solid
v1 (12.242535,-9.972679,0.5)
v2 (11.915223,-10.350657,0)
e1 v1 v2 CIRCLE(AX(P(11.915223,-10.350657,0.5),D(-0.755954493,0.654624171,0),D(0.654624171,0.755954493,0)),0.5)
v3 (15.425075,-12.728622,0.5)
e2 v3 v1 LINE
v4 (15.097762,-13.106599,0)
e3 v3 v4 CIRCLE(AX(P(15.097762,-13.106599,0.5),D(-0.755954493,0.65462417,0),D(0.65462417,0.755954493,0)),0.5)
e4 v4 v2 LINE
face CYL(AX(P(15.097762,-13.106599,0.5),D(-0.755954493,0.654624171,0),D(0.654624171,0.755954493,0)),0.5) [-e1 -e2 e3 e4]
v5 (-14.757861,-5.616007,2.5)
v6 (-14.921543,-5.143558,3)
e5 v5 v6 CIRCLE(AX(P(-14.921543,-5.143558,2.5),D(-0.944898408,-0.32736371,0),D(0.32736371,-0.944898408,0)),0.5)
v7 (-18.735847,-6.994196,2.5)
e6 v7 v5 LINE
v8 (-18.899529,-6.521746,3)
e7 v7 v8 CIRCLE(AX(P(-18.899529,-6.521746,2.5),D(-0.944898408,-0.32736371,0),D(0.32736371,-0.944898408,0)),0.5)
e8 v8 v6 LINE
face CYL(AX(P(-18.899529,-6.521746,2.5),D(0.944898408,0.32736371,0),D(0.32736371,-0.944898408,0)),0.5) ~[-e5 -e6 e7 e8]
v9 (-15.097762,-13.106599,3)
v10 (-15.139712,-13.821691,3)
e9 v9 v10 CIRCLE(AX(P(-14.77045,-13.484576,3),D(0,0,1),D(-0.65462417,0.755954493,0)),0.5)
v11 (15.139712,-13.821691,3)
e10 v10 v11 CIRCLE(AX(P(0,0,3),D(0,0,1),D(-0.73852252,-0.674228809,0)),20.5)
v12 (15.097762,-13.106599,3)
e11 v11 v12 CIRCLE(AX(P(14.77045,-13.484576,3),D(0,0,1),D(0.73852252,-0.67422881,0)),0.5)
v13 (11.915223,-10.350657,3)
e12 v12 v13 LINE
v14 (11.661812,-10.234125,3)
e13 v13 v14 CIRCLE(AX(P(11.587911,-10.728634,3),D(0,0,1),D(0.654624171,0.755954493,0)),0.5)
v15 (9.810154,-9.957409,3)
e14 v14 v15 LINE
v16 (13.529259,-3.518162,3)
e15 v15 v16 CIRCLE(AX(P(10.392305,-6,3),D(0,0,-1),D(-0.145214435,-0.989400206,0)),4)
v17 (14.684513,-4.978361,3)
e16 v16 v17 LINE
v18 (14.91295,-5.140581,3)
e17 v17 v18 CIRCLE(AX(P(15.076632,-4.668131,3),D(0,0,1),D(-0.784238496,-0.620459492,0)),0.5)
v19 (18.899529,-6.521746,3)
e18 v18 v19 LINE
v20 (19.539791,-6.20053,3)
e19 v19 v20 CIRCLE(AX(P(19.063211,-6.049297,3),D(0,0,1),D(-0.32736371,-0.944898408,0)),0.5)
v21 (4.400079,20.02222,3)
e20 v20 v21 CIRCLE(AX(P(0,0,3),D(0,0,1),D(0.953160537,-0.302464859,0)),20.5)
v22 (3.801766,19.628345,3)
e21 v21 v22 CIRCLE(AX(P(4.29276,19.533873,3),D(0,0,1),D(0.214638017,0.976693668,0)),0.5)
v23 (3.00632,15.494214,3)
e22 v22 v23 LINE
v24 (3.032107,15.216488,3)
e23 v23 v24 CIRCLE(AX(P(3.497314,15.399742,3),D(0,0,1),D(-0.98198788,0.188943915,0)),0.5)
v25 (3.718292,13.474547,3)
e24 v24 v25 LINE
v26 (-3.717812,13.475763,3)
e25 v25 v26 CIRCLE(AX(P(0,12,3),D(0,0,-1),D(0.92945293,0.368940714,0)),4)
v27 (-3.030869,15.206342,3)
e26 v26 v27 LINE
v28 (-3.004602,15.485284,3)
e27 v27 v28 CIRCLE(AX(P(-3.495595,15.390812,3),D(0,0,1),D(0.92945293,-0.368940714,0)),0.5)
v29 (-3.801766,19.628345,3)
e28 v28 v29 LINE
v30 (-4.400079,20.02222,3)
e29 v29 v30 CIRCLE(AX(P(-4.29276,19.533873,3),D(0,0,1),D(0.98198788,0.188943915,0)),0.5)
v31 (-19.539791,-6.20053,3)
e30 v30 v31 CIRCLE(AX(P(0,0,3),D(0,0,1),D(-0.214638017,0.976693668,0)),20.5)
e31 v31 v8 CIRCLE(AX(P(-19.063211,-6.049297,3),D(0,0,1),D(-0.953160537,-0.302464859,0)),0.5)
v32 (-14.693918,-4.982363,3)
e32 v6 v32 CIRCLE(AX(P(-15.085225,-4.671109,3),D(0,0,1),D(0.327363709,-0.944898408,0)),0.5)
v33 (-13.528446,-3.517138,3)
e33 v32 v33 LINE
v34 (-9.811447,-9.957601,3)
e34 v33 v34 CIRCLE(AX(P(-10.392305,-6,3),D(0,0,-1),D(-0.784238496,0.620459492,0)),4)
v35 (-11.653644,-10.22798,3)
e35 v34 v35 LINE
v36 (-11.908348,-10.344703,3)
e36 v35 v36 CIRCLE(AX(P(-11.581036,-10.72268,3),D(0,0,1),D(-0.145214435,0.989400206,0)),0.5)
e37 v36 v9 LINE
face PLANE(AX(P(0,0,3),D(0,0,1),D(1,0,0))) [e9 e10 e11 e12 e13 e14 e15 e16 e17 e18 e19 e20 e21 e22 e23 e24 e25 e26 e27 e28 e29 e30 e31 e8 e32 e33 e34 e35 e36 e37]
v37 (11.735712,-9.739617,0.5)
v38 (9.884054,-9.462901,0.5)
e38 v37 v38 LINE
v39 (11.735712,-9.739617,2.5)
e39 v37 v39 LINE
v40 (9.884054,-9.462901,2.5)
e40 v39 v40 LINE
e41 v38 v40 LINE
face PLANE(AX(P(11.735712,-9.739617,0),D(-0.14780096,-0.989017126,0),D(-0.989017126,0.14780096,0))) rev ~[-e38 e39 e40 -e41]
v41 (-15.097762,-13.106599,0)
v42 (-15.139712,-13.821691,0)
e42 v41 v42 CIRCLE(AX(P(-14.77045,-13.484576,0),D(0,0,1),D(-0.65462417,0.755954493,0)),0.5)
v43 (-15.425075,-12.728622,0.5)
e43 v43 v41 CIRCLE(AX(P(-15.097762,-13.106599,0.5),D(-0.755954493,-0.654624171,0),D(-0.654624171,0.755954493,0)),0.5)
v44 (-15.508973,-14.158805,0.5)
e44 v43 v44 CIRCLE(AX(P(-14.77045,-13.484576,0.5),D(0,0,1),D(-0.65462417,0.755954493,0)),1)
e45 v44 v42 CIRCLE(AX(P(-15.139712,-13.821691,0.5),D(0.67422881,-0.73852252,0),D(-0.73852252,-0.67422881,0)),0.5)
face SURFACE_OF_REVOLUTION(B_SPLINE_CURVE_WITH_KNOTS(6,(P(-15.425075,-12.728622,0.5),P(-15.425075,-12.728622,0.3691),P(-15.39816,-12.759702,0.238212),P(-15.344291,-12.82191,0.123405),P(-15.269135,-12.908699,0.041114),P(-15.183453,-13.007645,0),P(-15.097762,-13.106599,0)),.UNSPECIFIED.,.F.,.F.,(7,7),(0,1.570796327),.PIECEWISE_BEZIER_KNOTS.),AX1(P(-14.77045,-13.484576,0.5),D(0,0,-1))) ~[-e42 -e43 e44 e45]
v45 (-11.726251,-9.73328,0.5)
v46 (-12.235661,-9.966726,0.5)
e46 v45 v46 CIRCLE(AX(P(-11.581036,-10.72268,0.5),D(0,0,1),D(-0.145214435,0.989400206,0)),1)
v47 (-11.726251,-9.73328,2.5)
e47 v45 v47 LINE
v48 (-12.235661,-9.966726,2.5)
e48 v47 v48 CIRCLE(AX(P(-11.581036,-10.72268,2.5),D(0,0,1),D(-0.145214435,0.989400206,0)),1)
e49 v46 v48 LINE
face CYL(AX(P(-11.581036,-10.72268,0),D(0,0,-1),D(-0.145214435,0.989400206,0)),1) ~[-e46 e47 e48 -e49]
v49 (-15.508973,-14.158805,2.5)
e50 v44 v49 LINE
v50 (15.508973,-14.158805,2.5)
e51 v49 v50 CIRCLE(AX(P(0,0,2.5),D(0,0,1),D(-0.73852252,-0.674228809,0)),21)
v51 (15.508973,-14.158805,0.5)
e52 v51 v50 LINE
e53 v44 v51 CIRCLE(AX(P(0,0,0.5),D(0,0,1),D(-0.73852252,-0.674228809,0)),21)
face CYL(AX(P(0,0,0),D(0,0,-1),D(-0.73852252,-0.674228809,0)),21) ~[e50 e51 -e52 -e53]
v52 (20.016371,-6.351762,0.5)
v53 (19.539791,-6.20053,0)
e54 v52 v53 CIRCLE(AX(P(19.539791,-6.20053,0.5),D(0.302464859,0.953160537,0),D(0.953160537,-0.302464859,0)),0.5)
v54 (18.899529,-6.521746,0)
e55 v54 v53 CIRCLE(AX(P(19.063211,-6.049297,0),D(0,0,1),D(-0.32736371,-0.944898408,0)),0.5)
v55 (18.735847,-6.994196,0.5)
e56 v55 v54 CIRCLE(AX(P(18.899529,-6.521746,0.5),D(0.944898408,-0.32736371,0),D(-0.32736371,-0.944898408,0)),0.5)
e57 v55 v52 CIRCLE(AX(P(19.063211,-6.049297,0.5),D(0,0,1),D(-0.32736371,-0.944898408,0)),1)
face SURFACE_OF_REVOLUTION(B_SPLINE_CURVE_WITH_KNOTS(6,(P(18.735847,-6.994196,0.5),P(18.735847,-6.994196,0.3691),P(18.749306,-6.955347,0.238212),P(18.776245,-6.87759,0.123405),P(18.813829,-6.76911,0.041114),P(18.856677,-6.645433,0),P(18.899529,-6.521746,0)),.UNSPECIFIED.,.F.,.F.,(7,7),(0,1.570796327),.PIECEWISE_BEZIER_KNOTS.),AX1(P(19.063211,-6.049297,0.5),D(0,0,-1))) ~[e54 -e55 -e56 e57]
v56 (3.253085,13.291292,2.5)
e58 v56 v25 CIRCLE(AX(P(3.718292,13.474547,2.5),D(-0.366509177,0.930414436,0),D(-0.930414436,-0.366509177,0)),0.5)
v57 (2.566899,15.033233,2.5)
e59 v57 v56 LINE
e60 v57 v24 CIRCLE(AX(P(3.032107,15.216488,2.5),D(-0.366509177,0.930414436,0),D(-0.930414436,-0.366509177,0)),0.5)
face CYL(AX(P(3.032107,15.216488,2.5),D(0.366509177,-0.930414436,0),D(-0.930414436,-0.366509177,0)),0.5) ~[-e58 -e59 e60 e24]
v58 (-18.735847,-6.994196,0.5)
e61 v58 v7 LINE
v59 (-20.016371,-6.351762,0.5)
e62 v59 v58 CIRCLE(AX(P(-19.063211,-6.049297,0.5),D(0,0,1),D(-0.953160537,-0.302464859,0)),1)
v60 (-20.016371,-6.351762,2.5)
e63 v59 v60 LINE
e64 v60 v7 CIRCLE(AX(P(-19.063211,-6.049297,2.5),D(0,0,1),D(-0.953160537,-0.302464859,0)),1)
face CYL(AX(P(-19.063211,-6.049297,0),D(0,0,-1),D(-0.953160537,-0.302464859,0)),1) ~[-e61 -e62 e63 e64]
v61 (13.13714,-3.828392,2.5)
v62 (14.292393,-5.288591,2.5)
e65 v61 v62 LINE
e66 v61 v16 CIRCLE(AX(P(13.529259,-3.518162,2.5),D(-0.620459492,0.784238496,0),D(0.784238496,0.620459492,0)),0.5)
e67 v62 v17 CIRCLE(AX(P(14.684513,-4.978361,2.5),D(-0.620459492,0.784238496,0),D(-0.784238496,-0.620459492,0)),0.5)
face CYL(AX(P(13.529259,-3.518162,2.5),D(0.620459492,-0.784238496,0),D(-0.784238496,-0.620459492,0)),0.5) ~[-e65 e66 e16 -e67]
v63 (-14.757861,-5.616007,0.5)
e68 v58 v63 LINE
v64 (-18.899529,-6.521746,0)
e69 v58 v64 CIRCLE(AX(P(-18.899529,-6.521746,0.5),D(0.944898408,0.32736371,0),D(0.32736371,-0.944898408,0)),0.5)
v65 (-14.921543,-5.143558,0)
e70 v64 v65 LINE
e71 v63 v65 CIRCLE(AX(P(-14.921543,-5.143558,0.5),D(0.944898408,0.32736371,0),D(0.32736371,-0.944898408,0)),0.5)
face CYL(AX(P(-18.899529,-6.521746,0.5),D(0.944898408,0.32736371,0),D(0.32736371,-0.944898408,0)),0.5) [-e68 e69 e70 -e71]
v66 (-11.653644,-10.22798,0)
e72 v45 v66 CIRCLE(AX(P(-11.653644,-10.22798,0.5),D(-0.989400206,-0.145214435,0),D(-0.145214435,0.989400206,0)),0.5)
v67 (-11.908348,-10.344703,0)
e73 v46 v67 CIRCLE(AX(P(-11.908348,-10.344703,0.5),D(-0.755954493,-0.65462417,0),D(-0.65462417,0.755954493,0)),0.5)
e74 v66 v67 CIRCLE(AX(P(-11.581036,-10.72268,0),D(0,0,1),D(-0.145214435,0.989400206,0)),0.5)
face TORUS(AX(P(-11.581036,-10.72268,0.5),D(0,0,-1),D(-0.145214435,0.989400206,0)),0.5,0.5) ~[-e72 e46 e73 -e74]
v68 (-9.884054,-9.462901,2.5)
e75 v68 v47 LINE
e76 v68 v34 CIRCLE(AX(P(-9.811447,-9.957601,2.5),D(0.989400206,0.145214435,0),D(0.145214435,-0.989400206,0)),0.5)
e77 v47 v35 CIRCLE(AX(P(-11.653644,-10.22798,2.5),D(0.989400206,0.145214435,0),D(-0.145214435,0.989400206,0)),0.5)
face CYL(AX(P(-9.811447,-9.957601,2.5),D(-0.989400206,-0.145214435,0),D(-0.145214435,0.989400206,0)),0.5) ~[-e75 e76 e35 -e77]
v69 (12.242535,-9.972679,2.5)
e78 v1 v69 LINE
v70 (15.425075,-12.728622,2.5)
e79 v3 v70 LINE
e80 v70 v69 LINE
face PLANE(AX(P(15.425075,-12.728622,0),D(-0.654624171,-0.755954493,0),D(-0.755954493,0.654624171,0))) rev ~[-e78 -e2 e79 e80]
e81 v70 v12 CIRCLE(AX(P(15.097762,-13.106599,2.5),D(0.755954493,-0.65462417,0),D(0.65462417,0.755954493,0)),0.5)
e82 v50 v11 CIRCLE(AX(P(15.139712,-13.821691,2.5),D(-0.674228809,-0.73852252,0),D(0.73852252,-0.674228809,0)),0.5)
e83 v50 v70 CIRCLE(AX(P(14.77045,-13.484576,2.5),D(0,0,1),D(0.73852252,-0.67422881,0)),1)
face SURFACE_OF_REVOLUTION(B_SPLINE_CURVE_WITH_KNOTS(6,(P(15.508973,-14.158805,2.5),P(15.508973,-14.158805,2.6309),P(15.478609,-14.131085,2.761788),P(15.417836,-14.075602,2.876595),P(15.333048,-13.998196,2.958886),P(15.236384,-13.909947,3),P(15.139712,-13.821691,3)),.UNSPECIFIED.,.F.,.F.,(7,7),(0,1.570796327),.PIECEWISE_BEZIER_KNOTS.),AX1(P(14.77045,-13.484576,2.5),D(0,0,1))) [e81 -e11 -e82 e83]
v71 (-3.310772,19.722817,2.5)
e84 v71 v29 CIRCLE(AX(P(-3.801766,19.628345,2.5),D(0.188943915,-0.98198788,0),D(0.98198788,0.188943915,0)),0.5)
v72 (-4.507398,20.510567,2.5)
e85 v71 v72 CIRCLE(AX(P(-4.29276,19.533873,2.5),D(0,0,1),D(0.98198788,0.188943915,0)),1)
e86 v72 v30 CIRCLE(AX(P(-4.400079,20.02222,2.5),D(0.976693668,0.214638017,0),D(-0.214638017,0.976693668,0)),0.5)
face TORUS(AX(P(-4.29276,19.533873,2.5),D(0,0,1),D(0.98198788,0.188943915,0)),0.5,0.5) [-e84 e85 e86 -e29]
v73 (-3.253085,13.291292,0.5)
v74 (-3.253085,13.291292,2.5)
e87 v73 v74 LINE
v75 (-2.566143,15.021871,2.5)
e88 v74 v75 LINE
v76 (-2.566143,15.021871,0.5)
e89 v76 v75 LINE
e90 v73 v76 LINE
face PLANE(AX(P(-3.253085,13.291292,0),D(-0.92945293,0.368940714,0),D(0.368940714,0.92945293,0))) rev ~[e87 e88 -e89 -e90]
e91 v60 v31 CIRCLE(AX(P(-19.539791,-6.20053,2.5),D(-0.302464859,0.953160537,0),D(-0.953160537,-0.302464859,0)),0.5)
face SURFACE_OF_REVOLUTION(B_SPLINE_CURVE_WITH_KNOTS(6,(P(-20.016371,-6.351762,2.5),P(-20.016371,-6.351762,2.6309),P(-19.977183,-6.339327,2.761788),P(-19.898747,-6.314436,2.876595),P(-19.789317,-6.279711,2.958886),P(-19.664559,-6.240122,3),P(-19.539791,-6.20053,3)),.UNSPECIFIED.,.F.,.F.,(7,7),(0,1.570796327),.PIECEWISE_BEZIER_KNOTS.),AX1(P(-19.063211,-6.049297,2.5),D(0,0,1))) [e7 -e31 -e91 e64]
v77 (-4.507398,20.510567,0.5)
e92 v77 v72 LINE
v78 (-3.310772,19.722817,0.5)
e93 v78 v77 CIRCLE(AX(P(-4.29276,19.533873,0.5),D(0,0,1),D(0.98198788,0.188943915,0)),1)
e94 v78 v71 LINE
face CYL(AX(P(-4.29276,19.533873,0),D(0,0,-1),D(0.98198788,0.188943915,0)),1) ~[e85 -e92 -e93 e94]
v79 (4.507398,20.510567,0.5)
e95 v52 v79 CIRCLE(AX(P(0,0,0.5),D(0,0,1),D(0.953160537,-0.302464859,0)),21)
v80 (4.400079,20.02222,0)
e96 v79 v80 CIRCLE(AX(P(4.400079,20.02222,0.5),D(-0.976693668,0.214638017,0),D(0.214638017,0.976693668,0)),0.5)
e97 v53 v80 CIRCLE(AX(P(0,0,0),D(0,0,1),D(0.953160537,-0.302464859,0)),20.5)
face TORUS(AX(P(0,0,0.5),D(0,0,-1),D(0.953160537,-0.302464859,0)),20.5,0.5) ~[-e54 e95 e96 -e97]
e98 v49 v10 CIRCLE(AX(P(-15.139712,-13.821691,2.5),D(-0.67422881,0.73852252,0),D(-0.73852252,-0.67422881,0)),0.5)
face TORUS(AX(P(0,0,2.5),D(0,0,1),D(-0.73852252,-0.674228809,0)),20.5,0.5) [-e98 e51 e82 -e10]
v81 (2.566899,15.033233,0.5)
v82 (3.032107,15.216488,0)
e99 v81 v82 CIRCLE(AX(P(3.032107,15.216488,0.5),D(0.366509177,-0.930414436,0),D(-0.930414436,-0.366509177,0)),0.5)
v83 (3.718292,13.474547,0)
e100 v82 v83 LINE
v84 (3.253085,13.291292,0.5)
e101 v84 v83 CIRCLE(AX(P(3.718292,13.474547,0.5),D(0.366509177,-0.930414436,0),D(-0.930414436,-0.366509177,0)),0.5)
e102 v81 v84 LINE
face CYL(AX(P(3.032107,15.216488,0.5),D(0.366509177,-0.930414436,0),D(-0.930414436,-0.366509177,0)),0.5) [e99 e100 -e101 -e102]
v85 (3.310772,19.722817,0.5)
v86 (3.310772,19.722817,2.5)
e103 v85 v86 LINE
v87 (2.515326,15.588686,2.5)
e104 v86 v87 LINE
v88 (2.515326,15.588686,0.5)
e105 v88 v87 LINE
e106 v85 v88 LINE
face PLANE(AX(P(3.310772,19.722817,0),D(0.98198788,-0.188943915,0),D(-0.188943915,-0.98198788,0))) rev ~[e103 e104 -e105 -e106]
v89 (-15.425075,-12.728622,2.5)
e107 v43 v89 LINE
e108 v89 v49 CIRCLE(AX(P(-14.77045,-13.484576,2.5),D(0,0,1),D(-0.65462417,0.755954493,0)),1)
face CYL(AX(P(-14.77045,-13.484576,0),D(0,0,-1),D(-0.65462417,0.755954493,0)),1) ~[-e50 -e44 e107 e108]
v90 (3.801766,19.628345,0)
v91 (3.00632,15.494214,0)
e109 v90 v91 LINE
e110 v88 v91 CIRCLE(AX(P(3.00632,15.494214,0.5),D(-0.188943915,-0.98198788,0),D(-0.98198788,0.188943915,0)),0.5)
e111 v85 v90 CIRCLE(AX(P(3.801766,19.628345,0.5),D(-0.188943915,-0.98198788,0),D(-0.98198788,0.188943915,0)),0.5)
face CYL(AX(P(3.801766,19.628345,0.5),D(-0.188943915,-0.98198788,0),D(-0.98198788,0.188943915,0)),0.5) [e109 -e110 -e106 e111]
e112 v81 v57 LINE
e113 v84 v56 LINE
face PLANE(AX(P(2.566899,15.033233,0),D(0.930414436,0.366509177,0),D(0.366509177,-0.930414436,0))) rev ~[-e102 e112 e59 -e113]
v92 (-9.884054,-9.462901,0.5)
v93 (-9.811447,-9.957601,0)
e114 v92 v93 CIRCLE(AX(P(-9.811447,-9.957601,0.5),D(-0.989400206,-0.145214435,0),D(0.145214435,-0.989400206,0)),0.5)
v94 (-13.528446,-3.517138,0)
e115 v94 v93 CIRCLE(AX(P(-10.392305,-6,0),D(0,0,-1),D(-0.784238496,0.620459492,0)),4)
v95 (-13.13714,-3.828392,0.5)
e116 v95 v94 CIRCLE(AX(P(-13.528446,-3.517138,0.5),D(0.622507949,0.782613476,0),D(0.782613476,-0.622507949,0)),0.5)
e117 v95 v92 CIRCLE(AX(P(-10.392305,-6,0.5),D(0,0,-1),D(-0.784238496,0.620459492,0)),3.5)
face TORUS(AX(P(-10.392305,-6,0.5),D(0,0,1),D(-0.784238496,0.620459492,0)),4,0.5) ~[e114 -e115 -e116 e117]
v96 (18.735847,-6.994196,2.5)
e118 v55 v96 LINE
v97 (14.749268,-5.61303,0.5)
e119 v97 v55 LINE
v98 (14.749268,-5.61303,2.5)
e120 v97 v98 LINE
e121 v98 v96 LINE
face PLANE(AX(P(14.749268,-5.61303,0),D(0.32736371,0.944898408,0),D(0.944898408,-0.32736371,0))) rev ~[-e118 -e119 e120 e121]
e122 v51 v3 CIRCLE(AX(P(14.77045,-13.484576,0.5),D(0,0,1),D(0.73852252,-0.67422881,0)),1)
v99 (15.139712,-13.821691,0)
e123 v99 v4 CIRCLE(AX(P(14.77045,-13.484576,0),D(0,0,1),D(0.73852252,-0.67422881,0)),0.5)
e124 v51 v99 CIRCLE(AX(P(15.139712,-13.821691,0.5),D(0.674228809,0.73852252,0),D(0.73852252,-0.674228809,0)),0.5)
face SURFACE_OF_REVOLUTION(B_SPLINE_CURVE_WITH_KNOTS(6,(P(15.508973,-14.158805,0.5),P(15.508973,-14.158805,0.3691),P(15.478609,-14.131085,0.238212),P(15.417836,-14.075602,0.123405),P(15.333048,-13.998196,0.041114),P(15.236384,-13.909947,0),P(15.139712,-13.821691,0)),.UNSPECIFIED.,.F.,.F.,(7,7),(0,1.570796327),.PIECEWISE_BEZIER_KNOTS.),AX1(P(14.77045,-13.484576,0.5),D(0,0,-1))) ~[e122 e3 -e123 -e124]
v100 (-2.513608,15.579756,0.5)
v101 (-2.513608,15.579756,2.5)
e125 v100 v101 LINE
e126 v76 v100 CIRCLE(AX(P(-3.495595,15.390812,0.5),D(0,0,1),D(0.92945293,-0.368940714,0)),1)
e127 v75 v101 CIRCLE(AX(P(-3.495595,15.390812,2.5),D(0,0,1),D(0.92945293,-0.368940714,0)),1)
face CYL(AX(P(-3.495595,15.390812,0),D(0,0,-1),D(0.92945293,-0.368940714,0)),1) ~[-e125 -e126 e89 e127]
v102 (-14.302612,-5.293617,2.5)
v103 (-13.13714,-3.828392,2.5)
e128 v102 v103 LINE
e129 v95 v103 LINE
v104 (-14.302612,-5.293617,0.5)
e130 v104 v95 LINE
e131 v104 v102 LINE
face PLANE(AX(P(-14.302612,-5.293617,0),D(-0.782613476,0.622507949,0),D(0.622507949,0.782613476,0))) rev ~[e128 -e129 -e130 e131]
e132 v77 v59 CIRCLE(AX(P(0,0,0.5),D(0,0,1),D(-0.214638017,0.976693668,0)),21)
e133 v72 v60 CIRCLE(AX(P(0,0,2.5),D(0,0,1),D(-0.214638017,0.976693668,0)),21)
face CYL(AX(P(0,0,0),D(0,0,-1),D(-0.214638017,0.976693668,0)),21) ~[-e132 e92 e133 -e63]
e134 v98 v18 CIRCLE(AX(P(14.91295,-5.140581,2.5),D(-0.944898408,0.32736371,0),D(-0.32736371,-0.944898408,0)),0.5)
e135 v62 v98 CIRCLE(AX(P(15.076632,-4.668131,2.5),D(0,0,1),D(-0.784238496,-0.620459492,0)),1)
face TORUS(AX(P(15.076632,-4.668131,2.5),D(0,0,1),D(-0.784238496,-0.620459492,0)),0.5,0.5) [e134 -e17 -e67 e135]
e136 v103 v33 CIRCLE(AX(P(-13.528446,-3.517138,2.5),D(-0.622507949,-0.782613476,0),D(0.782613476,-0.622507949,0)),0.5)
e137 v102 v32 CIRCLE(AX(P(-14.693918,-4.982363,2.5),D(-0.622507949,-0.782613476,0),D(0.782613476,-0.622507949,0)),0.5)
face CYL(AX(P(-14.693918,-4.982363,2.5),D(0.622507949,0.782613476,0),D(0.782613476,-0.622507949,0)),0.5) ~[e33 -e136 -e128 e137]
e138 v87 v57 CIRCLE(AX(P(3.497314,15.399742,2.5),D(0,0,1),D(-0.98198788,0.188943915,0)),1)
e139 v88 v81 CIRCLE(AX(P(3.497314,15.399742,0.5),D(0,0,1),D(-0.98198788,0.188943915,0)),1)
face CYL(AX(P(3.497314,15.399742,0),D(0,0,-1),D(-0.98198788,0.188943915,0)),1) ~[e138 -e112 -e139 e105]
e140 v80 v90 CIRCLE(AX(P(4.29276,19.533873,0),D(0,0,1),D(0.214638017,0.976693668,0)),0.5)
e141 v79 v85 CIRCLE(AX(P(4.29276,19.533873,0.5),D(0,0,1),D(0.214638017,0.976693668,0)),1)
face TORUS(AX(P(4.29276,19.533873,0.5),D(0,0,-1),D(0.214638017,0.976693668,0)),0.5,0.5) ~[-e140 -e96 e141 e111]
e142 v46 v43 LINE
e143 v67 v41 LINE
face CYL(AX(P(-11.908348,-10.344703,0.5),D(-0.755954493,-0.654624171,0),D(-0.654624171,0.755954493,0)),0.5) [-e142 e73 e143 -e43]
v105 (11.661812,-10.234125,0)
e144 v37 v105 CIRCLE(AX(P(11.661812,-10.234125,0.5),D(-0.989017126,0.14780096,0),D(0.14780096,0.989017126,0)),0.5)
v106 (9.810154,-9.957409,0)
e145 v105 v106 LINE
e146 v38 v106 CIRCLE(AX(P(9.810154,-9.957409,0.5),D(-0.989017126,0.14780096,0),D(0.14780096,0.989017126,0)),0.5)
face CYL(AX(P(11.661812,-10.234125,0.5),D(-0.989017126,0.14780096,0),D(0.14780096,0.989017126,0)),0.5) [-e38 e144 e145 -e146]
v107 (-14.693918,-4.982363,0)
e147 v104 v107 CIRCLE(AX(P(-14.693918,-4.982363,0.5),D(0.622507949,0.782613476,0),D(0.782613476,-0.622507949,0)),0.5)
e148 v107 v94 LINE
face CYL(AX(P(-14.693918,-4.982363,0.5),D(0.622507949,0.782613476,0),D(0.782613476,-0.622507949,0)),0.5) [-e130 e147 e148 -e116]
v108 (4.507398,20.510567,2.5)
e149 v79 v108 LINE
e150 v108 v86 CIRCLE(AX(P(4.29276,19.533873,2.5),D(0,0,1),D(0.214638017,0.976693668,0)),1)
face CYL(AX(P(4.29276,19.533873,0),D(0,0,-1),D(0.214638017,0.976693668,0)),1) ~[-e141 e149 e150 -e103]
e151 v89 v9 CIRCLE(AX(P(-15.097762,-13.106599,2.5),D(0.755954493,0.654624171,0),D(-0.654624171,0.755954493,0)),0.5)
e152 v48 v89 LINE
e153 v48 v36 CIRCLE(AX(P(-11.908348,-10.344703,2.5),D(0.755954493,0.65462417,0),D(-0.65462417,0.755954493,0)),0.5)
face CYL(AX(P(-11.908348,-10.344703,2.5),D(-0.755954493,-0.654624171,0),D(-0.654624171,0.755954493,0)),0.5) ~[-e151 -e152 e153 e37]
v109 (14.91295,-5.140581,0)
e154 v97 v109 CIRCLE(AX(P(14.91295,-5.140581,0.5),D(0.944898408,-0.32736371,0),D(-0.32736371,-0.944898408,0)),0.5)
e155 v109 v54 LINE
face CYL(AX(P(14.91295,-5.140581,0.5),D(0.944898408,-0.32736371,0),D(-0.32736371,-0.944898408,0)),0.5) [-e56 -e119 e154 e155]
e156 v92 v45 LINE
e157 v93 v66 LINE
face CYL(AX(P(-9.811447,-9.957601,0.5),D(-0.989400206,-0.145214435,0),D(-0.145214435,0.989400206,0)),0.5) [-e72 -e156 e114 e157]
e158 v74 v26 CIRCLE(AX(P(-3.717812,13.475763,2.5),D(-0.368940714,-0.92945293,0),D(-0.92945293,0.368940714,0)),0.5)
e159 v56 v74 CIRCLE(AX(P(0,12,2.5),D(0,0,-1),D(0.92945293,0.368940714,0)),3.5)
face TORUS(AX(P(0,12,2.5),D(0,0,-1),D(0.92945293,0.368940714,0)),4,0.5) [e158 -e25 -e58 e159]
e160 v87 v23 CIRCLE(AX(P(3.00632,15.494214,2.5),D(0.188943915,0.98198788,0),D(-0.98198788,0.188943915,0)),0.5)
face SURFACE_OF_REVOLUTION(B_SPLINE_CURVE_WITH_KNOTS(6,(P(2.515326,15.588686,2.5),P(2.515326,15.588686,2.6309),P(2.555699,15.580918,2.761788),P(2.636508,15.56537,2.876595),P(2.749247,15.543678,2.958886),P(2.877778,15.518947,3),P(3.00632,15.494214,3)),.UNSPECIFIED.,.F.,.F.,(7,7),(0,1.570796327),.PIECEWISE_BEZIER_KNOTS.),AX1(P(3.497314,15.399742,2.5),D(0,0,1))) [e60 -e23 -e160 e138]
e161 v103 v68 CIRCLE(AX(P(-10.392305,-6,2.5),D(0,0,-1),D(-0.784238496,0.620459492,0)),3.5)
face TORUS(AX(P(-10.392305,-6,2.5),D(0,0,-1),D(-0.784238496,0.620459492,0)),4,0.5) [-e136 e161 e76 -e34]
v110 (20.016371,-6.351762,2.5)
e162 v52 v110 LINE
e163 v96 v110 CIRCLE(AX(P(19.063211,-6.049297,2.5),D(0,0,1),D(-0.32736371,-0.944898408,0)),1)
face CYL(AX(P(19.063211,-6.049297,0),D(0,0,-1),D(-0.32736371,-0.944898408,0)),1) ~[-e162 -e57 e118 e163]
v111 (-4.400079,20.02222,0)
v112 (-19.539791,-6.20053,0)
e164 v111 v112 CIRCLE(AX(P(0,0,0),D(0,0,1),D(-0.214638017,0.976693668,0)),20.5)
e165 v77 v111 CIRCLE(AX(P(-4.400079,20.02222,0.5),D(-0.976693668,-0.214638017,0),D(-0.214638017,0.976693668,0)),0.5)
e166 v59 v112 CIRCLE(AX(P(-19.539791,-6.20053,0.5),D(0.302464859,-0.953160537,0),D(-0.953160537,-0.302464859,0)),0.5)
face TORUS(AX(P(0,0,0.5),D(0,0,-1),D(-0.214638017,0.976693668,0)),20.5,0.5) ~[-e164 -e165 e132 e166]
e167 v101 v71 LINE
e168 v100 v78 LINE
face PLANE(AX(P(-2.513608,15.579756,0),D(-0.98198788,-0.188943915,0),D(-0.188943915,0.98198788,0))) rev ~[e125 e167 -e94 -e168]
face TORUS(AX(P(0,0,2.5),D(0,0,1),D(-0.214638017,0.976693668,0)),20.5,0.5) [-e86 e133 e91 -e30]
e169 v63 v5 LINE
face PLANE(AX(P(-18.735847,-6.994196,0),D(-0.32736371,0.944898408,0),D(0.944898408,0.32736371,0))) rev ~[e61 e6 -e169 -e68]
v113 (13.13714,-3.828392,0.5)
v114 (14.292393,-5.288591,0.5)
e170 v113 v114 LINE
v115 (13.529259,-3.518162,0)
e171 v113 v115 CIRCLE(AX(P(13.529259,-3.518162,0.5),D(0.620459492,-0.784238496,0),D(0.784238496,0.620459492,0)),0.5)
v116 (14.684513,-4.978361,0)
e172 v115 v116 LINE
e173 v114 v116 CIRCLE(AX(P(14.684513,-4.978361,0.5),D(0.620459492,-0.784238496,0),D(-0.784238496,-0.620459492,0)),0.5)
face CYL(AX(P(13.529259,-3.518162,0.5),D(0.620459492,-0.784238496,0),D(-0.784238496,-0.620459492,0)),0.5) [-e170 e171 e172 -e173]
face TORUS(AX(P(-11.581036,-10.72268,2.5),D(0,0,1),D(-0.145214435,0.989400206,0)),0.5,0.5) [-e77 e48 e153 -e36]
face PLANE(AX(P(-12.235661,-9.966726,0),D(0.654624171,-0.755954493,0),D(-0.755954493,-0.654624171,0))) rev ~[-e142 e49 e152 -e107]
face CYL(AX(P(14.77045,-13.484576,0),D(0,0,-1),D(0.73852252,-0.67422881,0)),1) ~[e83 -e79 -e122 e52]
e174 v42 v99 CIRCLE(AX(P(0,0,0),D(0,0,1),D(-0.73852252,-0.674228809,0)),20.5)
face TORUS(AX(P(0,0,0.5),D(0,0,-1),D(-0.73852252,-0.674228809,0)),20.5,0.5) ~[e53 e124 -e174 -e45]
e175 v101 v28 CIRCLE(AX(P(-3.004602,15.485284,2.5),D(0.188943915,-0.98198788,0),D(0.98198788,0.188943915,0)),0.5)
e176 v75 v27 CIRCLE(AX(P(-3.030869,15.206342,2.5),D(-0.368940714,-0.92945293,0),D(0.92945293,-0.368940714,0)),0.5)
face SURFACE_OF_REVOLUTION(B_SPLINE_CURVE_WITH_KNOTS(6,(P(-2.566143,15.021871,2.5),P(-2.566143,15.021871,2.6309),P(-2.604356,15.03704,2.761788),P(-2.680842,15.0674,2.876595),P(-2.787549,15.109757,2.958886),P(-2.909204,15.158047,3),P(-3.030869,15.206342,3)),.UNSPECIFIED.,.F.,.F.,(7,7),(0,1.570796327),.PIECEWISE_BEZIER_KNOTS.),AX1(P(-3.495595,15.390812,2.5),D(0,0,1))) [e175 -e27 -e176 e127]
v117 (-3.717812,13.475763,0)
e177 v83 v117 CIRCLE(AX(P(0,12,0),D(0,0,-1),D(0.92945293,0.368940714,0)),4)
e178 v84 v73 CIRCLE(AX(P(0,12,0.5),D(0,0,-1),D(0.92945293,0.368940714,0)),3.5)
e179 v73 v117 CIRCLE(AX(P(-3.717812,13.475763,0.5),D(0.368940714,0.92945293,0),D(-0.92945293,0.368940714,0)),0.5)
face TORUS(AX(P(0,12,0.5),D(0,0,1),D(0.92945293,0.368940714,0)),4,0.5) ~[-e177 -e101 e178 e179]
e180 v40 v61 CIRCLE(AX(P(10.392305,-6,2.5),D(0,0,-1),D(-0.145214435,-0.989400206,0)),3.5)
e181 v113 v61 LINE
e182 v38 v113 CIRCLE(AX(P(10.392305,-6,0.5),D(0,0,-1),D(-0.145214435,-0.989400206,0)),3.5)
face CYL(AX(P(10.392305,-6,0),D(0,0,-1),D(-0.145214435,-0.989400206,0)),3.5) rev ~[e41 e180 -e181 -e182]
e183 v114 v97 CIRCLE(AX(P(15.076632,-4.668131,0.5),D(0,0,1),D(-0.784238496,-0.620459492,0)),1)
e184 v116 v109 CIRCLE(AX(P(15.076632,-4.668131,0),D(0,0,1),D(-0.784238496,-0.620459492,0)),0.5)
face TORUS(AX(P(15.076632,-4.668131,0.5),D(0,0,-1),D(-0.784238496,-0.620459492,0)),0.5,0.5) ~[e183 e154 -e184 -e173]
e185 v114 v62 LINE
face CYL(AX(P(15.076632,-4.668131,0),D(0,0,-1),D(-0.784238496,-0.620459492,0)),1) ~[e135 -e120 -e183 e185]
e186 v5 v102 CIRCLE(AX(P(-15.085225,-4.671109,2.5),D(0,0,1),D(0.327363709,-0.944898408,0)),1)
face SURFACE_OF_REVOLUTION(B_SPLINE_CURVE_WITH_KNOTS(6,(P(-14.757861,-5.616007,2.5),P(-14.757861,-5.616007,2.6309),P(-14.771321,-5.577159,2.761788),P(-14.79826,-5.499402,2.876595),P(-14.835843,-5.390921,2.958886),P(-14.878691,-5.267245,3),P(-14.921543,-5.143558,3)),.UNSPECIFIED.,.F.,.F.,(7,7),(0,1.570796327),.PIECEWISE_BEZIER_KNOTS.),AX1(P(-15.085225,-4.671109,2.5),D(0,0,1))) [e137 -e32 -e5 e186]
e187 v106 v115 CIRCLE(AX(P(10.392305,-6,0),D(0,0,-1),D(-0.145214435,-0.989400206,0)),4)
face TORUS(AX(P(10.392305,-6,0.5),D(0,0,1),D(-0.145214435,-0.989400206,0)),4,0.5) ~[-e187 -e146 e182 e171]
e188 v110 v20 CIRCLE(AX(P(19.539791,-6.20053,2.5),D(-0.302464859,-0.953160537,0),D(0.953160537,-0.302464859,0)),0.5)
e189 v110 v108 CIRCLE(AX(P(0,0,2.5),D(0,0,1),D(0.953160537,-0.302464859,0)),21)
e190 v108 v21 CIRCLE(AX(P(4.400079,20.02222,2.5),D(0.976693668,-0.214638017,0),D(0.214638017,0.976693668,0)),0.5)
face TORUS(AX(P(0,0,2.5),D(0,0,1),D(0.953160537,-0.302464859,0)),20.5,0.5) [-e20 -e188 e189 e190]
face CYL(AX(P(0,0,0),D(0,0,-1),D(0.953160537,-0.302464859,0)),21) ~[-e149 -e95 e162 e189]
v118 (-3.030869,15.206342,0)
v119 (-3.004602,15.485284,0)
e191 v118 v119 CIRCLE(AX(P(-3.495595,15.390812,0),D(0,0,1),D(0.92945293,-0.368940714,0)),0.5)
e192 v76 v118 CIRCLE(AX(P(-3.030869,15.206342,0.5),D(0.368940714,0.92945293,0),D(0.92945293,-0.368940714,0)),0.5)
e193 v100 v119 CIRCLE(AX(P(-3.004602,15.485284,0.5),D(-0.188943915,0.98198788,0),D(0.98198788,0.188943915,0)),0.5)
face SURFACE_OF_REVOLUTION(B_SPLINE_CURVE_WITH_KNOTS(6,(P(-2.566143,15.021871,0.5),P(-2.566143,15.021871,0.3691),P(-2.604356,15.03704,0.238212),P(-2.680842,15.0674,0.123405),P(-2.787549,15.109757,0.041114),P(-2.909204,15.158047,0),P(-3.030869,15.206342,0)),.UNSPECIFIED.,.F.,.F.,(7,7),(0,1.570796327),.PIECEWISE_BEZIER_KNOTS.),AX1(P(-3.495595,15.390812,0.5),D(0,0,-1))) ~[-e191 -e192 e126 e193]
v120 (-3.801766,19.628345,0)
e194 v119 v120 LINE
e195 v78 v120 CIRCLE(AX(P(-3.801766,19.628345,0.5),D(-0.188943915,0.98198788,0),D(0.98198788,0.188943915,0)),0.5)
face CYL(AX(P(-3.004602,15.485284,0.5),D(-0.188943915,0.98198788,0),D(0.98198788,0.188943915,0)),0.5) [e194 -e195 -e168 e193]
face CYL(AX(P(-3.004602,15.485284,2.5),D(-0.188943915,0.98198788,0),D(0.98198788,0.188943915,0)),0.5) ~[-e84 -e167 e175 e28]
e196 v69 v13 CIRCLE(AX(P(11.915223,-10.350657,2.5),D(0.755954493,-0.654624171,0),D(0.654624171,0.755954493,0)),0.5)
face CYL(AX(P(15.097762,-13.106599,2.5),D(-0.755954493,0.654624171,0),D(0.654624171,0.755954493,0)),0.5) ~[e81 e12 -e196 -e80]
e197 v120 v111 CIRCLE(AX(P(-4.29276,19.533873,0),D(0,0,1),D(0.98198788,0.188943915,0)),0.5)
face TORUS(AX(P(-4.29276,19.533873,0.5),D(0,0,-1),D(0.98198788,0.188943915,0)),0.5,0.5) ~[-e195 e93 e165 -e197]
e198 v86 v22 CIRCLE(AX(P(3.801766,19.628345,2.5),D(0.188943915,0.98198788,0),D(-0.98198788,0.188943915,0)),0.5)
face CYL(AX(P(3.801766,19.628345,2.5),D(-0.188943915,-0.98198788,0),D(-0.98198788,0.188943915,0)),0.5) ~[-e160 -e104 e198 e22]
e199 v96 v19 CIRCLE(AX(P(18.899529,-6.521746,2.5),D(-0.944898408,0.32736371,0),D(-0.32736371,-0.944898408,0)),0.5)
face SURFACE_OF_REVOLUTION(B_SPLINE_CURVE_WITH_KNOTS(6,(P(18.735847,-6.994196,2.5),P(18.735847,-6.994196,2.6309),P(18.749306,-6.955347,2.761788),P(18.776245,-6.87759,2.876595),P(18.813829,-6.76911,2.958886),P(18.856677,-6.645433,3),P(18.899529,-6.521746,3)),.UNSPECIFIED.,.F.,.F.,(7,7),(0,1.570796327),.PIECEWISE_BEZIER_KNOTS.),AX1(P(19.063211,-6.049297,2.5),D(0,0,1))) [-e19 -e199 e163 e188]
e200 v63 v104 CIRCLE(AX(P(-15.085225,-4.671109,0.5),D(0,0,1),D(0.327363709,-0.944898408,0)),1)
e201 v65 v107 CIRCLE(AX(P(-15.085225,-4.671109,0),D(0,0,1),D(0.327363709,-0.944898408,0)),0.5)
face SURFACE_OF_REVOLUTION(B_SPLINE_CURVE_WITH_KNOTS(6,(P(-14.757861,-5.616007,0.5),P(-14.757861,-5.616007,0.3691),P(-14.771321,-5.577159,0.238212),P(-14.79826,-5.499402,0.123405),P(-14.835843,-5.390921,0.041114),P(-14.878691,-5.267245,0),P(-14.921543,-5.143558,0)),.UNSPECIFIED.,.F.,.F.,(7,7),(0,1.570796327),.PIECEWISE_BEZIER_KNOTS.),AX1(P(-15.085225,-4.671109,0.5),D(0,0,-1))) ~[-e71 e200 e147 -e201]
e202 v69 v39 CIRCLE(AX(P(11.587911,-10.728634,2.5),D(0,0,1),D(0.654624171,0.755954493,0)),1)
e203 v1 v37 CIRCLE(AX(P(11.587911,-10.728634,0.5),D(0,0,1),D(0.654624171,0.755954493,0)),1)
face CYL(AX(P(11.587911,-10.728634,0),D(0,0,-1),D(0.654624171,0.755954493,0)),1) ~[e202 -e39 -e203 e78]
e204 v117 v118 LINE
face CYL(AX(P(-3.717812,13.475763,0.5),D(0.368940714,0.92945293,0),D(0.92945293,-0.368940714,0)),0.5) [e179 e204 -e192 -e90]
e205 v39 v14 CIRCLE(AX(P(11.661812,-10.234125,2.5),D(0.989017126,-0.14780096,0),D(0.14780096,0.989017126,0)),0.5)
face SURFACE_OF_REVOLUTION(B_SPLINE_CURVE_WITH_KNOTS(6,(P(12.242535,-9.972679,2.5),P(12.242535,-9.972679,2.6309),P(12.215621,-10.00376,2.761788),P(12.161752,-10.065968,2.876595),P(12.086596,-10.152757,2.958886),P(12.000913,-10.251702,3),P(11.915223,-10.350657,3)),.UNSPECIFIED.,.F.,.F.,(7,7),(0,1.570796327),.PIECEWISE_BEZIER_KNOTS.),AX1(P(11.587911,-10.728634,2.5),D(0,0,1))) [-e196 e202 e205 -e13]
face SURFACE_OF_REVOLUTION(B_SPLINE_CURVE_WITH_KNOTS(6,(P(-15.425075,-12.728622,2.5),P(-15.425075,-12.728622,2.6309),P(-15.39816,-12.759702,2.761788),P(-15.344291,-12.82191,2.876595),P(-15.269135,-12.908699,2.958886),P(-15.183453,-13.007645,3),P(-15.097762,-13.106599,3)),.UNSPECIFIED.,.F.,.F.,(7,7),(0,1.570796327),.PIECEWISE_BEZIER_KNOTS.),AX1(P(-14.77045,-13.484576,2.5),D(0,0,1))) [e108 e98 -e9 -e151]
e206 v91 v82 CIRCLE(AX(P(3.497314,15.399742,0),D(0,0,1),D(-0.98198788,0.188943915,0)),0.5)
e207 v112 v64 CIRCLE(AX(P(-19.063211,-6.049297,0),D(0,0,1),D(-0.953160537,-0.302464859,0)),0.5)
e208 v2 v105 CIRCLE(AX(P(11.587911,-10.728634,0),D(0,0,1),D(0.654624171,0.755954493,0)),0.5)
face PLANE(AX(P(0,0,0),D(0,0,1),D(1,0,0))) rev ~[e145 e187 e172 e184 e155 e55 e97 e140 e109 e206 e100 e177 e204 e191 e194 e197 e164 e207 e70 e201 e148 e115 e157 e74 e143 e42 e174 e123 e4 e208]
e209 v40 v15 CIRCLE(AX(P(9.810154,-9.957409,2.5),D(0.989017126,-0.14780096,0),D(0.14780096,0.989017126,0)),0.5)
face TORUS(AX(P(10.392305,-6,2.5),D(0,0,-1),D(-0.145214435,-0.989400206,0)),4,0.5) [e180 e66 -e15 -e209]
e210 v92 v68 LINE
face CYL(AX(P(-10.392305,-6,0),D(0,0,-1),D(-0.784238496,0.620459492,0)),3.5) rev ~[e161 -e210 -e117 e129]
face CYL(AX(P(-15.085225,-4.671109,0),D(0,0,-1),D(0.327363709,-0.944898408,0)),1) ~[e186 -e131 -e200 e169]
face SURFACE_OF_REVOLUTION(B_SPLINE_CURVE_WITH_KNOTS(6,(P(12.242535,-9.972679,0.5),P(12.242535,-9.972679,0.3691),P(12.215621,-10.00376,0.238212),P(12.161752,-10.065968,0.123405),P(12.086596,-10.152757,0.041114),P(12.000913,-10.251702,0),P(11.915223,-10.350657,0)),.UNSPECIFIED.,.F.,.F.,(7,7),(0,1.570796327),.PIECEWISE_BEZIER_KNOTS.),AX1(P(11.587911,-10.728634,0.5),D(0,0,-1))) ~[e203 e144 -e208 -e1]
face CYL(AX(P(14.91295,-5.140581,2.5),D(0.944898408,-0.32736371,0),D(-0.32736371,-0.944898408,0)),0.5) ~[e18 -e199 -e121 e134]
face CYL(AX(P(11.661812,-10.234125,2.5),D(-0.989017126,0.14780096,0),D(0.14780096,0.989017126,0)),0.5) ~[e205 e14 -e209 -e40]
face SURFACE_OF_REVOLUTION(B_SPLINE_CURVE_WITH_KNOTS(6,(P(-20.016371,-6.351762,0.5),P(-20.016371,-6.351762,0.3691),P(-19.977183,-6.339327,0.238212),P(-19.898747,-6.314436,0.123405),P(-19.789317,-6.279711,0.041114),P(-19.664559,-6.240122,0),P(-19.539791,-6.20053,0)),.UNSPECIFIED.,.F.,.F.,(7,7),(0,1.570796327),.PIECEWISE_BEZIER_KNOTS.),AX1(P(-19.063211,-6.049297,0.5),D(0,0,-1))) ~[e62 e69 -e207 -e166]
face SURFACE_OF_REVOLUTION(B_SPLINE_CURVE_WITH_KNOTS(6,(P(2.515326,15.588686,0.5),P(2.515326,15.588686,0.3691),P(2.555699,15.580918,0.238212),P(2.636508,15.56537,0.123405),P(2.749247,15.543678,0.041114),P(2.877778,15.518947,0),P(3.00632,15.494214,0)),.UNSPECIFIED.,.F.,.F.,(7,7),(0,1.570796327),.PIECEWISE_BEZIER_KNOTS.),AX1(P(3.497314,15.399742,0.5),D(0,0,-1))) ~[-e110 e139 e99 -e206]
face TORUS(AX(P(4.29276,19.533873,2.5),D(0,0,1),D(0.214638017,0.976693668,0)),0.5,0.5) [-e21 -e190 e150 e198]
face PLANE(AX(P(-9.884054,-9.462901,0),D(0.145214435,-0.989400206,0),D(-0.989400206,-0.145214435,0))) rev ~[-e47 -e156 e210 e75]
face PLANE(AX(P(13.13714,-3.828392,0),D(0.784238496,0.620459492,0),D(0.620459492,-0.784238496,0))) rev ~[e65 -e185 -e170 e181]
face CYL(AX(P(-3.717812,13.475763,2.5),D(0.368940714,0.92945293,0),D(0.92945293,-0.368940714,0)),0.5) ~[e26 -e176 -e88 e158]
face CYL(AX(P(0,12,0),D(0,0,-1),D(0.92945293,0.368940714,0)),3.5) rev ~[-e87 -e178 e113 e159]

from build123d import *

# Parameters (mm, degrees)
F1_DEPTH = 3
F2_R     = 0.5


with BuildPart() as f1:
    # F0 (on Top) → F1 (new body)
    with BuildSketch(Plane.XY):
        with BuildLine():
            ThreePointArc((3.2530852563, 13.291292498), (0, 8.5), (-3.2530852563, 13.291292498))
            Line((-3.2530852563, 13.291292498), (-2.5661425236, 15.0218711849))
            ThreePointArc((-2.5661425236, 15.0218711849), (-2.5, 15.2970585408), (-2.5136075737, 15.5797558138))
            Line((-2.5136075737, 15.5797558138), (-3.3107724577, 19.7228172813))
            ThreePointArc((-3.3107724577, 19.7228172813), (-3.7429022912, 20.3691314869), (-4.5073983549, 20.5105670344))
            ThreePointArc((-4.5073983549, 20.5105670344), (-18.1865334795, 10.5), (-20.0163712752, -6.3517620369))
            ThreePointArc((-20.0163712752, -6.3517620369), (-19.5116364663, -6.9431172754), (-18.7358470286, -6.9941955861))
            Line((-18.7358470286, -6.9941955861), (-14.7578613554, -5.6160070573))
            ThreePointArc((-14.7578613554, -5.6160070573), (-14.5073009869, -5.4871991834), (-14.3026115891, -5.2936165988))
            Line((-14.3026115891, -5.2936165988), (-13.1371395806, -3.8283917764))
            ThreePointArc((-13.1371395806, -3.8283917764), (-7.3612159322, -4.25), (-9.8840543243, -9.4629007216))
            Line((-9.8840543243, -9.4629007216), (-11.7262507967, -9.7332802076))
            ThreePointArc((-11.7262507967, -9.7332802076), (-11.9976412995, -9.8135927799), (-12.2356605327, -9.9667259209))
            Line((-12.2356605327, -9.9667259209), (-15.4250745709, -12.7286216952))
            ThreePointArc((-15.4250745709, -12.7286216952), (-15.7687341751, -13.4260142115), (-15.5089729203, -14.1588049975))
            ThreePointArc((-15.5089729203, -14.1588049975), (0, -21), (15.5089729203, -14.1588049975))
            ThreePointArc((15.5089729203, -14.1588049975), (15.7687341751, -13.4260142115), (15.4250745709, -12.7286216952))
            Line((15.4250745709, -12.7286216952), (12.2425354572, -9.9726793107))
            ThreePointArc((12.2425354572, -9.9726793107), (12.0057043819, -9.8200916033), (11.735712247, -9.7396166772))
            Line((11.735712247, -9.7396166772), (9.8840543243, -9.4629007216))
            ThreePointArc((9.8840543243, -9.4629007216), (7.3612159322, -4.25), (13.1371395806, -3.8283917764))
            Line((13.1371395806, -3.8283917764), (14.2923933203, -5.2885909773))
            ThreePointArc((14.2923933203, -5.2885909773), (14.4976412995, -5.4834657609), (14.7492681064, -5.6130298929))
            Line((14.7492681064, -5.6130298929), (18.7358470286, -6.9941955861))
            ThreePointArc((18.7358470286, -6.9941955861), (19.5116364663, -6.9431172754), (20.0163712752, -6.3517620369))
            ThreePointArc((20.0163712752, -6.3517620369), (18.1865334795, 10.5), (4.5073983549, 20.5105670344))
            ThreePointArc((4.5073983549, 20.5105670344), (3.7429022912, 20.3691314869), (3.3107724577, 19.7228172813))
            Line((3.3107724577, 19.7228172813), (2.5153258982, 15.588686368))
            ThreePointArc((2.5153258982, 15.588686368), (2.501596605, 15.3072907867), (2.5668993421, 15.033233276))
            Line((2.5668993421, 15.033233276), (3.2530852563, 13.291292498))
        make_face()
    extrude(amount=F1_DEPTH)

    # F2
    f2_edges = [f1.edges().sort_by_distance(p)[0] for p in [
        (3.742902, 20.369131, 3),
        (2.913049, 17.655752, 3),
        (2.501597, 15.307291, 3),
        (2.909992, 14.162263, 3),
        (0, 8.5, 3),
        (-2.909614, 14.156582, 3),
        (-2.5, 15.297059, 3),
        (-2.91219, 17.651287, 3),
        (-3.742902, 20.369131, 3),
        (-18.186533, 10.5, 3),
        (-19.511636, -6.943117, 3),
        (-16.746854, -6.305101, 3),
        (-14.507301, -5.487199, 3),
        (-13.719876, -4.561004, 3),
        (-7.361216, -4.25, 3),
        (-10.805153, -9.59809, 3),
        (-11.997641, -9.813593, 3),
        (-13.830368, -11.347674, 3),
        (-15.768734, -13.426014, 3),
        (0, -21, 3),
        (15.768734, -13.426014, 3),
        (13.833805, -11.350651, 3),
        (12.005704, -9.820092, 3),
        (10.809883, -9.601259, 3),
        (7.361216, -4.25, 3),
        (13.714766, -4.558491, 3),
        (14.497641, -5.483466, 3),
        (16.742558, -6.303613, 3),
        (19.511636, -6.943117, 3),
        (18.186533, 10.5, 3),
        (3.742902, 20.369131, 0),
        (2.913049, 17.655752, 0),
        (2.501597, 15.307291, 0),
        (2.909992, 14.162263, 0),
        (0, 8.5, 0),
        (-2.909614, 14.156582, 0),
        (-2.5, 15.297059, 0),
        (-2.91219, 17.651287, 0),
        (-3.742902, 20.369131, 0),
        (-18.186533, 10.5, 0),
        (-19.511636, -6.943117, 0),
        (-16.746854, -6.305101, 0),
        (-14.507301, -5.487199, 0),
        (-13.719876, -4.561004, 0),
        (-7.361216, -4.25, 0),
        (-10.805153, -9.59809, 0),
        (-11.997641, -9.813593, 0),
        (-13.830368, -11.347674, 0),
        (-15.768734, -13.426014, 0),
        (0, -21, 0),
        (15.768734, -13.426014, 0),
        (13.833805, -11.350651, 0),
        (12.005704, -9.820092, 0),
        (10.809883, -9.601259, 0),
        (7.361216, -4.25, 0),
        (13.714766, -4.558491, 0),
        (14.497641, -5.483466, 0),
        (16.742558, -6.303613, 0),
        (19.511636, -6.943117, 0),
        (18.186533, 10.5, 0),
    ]]
    fillet(f2_edges, radius=F2_R)


solid = f1.part
